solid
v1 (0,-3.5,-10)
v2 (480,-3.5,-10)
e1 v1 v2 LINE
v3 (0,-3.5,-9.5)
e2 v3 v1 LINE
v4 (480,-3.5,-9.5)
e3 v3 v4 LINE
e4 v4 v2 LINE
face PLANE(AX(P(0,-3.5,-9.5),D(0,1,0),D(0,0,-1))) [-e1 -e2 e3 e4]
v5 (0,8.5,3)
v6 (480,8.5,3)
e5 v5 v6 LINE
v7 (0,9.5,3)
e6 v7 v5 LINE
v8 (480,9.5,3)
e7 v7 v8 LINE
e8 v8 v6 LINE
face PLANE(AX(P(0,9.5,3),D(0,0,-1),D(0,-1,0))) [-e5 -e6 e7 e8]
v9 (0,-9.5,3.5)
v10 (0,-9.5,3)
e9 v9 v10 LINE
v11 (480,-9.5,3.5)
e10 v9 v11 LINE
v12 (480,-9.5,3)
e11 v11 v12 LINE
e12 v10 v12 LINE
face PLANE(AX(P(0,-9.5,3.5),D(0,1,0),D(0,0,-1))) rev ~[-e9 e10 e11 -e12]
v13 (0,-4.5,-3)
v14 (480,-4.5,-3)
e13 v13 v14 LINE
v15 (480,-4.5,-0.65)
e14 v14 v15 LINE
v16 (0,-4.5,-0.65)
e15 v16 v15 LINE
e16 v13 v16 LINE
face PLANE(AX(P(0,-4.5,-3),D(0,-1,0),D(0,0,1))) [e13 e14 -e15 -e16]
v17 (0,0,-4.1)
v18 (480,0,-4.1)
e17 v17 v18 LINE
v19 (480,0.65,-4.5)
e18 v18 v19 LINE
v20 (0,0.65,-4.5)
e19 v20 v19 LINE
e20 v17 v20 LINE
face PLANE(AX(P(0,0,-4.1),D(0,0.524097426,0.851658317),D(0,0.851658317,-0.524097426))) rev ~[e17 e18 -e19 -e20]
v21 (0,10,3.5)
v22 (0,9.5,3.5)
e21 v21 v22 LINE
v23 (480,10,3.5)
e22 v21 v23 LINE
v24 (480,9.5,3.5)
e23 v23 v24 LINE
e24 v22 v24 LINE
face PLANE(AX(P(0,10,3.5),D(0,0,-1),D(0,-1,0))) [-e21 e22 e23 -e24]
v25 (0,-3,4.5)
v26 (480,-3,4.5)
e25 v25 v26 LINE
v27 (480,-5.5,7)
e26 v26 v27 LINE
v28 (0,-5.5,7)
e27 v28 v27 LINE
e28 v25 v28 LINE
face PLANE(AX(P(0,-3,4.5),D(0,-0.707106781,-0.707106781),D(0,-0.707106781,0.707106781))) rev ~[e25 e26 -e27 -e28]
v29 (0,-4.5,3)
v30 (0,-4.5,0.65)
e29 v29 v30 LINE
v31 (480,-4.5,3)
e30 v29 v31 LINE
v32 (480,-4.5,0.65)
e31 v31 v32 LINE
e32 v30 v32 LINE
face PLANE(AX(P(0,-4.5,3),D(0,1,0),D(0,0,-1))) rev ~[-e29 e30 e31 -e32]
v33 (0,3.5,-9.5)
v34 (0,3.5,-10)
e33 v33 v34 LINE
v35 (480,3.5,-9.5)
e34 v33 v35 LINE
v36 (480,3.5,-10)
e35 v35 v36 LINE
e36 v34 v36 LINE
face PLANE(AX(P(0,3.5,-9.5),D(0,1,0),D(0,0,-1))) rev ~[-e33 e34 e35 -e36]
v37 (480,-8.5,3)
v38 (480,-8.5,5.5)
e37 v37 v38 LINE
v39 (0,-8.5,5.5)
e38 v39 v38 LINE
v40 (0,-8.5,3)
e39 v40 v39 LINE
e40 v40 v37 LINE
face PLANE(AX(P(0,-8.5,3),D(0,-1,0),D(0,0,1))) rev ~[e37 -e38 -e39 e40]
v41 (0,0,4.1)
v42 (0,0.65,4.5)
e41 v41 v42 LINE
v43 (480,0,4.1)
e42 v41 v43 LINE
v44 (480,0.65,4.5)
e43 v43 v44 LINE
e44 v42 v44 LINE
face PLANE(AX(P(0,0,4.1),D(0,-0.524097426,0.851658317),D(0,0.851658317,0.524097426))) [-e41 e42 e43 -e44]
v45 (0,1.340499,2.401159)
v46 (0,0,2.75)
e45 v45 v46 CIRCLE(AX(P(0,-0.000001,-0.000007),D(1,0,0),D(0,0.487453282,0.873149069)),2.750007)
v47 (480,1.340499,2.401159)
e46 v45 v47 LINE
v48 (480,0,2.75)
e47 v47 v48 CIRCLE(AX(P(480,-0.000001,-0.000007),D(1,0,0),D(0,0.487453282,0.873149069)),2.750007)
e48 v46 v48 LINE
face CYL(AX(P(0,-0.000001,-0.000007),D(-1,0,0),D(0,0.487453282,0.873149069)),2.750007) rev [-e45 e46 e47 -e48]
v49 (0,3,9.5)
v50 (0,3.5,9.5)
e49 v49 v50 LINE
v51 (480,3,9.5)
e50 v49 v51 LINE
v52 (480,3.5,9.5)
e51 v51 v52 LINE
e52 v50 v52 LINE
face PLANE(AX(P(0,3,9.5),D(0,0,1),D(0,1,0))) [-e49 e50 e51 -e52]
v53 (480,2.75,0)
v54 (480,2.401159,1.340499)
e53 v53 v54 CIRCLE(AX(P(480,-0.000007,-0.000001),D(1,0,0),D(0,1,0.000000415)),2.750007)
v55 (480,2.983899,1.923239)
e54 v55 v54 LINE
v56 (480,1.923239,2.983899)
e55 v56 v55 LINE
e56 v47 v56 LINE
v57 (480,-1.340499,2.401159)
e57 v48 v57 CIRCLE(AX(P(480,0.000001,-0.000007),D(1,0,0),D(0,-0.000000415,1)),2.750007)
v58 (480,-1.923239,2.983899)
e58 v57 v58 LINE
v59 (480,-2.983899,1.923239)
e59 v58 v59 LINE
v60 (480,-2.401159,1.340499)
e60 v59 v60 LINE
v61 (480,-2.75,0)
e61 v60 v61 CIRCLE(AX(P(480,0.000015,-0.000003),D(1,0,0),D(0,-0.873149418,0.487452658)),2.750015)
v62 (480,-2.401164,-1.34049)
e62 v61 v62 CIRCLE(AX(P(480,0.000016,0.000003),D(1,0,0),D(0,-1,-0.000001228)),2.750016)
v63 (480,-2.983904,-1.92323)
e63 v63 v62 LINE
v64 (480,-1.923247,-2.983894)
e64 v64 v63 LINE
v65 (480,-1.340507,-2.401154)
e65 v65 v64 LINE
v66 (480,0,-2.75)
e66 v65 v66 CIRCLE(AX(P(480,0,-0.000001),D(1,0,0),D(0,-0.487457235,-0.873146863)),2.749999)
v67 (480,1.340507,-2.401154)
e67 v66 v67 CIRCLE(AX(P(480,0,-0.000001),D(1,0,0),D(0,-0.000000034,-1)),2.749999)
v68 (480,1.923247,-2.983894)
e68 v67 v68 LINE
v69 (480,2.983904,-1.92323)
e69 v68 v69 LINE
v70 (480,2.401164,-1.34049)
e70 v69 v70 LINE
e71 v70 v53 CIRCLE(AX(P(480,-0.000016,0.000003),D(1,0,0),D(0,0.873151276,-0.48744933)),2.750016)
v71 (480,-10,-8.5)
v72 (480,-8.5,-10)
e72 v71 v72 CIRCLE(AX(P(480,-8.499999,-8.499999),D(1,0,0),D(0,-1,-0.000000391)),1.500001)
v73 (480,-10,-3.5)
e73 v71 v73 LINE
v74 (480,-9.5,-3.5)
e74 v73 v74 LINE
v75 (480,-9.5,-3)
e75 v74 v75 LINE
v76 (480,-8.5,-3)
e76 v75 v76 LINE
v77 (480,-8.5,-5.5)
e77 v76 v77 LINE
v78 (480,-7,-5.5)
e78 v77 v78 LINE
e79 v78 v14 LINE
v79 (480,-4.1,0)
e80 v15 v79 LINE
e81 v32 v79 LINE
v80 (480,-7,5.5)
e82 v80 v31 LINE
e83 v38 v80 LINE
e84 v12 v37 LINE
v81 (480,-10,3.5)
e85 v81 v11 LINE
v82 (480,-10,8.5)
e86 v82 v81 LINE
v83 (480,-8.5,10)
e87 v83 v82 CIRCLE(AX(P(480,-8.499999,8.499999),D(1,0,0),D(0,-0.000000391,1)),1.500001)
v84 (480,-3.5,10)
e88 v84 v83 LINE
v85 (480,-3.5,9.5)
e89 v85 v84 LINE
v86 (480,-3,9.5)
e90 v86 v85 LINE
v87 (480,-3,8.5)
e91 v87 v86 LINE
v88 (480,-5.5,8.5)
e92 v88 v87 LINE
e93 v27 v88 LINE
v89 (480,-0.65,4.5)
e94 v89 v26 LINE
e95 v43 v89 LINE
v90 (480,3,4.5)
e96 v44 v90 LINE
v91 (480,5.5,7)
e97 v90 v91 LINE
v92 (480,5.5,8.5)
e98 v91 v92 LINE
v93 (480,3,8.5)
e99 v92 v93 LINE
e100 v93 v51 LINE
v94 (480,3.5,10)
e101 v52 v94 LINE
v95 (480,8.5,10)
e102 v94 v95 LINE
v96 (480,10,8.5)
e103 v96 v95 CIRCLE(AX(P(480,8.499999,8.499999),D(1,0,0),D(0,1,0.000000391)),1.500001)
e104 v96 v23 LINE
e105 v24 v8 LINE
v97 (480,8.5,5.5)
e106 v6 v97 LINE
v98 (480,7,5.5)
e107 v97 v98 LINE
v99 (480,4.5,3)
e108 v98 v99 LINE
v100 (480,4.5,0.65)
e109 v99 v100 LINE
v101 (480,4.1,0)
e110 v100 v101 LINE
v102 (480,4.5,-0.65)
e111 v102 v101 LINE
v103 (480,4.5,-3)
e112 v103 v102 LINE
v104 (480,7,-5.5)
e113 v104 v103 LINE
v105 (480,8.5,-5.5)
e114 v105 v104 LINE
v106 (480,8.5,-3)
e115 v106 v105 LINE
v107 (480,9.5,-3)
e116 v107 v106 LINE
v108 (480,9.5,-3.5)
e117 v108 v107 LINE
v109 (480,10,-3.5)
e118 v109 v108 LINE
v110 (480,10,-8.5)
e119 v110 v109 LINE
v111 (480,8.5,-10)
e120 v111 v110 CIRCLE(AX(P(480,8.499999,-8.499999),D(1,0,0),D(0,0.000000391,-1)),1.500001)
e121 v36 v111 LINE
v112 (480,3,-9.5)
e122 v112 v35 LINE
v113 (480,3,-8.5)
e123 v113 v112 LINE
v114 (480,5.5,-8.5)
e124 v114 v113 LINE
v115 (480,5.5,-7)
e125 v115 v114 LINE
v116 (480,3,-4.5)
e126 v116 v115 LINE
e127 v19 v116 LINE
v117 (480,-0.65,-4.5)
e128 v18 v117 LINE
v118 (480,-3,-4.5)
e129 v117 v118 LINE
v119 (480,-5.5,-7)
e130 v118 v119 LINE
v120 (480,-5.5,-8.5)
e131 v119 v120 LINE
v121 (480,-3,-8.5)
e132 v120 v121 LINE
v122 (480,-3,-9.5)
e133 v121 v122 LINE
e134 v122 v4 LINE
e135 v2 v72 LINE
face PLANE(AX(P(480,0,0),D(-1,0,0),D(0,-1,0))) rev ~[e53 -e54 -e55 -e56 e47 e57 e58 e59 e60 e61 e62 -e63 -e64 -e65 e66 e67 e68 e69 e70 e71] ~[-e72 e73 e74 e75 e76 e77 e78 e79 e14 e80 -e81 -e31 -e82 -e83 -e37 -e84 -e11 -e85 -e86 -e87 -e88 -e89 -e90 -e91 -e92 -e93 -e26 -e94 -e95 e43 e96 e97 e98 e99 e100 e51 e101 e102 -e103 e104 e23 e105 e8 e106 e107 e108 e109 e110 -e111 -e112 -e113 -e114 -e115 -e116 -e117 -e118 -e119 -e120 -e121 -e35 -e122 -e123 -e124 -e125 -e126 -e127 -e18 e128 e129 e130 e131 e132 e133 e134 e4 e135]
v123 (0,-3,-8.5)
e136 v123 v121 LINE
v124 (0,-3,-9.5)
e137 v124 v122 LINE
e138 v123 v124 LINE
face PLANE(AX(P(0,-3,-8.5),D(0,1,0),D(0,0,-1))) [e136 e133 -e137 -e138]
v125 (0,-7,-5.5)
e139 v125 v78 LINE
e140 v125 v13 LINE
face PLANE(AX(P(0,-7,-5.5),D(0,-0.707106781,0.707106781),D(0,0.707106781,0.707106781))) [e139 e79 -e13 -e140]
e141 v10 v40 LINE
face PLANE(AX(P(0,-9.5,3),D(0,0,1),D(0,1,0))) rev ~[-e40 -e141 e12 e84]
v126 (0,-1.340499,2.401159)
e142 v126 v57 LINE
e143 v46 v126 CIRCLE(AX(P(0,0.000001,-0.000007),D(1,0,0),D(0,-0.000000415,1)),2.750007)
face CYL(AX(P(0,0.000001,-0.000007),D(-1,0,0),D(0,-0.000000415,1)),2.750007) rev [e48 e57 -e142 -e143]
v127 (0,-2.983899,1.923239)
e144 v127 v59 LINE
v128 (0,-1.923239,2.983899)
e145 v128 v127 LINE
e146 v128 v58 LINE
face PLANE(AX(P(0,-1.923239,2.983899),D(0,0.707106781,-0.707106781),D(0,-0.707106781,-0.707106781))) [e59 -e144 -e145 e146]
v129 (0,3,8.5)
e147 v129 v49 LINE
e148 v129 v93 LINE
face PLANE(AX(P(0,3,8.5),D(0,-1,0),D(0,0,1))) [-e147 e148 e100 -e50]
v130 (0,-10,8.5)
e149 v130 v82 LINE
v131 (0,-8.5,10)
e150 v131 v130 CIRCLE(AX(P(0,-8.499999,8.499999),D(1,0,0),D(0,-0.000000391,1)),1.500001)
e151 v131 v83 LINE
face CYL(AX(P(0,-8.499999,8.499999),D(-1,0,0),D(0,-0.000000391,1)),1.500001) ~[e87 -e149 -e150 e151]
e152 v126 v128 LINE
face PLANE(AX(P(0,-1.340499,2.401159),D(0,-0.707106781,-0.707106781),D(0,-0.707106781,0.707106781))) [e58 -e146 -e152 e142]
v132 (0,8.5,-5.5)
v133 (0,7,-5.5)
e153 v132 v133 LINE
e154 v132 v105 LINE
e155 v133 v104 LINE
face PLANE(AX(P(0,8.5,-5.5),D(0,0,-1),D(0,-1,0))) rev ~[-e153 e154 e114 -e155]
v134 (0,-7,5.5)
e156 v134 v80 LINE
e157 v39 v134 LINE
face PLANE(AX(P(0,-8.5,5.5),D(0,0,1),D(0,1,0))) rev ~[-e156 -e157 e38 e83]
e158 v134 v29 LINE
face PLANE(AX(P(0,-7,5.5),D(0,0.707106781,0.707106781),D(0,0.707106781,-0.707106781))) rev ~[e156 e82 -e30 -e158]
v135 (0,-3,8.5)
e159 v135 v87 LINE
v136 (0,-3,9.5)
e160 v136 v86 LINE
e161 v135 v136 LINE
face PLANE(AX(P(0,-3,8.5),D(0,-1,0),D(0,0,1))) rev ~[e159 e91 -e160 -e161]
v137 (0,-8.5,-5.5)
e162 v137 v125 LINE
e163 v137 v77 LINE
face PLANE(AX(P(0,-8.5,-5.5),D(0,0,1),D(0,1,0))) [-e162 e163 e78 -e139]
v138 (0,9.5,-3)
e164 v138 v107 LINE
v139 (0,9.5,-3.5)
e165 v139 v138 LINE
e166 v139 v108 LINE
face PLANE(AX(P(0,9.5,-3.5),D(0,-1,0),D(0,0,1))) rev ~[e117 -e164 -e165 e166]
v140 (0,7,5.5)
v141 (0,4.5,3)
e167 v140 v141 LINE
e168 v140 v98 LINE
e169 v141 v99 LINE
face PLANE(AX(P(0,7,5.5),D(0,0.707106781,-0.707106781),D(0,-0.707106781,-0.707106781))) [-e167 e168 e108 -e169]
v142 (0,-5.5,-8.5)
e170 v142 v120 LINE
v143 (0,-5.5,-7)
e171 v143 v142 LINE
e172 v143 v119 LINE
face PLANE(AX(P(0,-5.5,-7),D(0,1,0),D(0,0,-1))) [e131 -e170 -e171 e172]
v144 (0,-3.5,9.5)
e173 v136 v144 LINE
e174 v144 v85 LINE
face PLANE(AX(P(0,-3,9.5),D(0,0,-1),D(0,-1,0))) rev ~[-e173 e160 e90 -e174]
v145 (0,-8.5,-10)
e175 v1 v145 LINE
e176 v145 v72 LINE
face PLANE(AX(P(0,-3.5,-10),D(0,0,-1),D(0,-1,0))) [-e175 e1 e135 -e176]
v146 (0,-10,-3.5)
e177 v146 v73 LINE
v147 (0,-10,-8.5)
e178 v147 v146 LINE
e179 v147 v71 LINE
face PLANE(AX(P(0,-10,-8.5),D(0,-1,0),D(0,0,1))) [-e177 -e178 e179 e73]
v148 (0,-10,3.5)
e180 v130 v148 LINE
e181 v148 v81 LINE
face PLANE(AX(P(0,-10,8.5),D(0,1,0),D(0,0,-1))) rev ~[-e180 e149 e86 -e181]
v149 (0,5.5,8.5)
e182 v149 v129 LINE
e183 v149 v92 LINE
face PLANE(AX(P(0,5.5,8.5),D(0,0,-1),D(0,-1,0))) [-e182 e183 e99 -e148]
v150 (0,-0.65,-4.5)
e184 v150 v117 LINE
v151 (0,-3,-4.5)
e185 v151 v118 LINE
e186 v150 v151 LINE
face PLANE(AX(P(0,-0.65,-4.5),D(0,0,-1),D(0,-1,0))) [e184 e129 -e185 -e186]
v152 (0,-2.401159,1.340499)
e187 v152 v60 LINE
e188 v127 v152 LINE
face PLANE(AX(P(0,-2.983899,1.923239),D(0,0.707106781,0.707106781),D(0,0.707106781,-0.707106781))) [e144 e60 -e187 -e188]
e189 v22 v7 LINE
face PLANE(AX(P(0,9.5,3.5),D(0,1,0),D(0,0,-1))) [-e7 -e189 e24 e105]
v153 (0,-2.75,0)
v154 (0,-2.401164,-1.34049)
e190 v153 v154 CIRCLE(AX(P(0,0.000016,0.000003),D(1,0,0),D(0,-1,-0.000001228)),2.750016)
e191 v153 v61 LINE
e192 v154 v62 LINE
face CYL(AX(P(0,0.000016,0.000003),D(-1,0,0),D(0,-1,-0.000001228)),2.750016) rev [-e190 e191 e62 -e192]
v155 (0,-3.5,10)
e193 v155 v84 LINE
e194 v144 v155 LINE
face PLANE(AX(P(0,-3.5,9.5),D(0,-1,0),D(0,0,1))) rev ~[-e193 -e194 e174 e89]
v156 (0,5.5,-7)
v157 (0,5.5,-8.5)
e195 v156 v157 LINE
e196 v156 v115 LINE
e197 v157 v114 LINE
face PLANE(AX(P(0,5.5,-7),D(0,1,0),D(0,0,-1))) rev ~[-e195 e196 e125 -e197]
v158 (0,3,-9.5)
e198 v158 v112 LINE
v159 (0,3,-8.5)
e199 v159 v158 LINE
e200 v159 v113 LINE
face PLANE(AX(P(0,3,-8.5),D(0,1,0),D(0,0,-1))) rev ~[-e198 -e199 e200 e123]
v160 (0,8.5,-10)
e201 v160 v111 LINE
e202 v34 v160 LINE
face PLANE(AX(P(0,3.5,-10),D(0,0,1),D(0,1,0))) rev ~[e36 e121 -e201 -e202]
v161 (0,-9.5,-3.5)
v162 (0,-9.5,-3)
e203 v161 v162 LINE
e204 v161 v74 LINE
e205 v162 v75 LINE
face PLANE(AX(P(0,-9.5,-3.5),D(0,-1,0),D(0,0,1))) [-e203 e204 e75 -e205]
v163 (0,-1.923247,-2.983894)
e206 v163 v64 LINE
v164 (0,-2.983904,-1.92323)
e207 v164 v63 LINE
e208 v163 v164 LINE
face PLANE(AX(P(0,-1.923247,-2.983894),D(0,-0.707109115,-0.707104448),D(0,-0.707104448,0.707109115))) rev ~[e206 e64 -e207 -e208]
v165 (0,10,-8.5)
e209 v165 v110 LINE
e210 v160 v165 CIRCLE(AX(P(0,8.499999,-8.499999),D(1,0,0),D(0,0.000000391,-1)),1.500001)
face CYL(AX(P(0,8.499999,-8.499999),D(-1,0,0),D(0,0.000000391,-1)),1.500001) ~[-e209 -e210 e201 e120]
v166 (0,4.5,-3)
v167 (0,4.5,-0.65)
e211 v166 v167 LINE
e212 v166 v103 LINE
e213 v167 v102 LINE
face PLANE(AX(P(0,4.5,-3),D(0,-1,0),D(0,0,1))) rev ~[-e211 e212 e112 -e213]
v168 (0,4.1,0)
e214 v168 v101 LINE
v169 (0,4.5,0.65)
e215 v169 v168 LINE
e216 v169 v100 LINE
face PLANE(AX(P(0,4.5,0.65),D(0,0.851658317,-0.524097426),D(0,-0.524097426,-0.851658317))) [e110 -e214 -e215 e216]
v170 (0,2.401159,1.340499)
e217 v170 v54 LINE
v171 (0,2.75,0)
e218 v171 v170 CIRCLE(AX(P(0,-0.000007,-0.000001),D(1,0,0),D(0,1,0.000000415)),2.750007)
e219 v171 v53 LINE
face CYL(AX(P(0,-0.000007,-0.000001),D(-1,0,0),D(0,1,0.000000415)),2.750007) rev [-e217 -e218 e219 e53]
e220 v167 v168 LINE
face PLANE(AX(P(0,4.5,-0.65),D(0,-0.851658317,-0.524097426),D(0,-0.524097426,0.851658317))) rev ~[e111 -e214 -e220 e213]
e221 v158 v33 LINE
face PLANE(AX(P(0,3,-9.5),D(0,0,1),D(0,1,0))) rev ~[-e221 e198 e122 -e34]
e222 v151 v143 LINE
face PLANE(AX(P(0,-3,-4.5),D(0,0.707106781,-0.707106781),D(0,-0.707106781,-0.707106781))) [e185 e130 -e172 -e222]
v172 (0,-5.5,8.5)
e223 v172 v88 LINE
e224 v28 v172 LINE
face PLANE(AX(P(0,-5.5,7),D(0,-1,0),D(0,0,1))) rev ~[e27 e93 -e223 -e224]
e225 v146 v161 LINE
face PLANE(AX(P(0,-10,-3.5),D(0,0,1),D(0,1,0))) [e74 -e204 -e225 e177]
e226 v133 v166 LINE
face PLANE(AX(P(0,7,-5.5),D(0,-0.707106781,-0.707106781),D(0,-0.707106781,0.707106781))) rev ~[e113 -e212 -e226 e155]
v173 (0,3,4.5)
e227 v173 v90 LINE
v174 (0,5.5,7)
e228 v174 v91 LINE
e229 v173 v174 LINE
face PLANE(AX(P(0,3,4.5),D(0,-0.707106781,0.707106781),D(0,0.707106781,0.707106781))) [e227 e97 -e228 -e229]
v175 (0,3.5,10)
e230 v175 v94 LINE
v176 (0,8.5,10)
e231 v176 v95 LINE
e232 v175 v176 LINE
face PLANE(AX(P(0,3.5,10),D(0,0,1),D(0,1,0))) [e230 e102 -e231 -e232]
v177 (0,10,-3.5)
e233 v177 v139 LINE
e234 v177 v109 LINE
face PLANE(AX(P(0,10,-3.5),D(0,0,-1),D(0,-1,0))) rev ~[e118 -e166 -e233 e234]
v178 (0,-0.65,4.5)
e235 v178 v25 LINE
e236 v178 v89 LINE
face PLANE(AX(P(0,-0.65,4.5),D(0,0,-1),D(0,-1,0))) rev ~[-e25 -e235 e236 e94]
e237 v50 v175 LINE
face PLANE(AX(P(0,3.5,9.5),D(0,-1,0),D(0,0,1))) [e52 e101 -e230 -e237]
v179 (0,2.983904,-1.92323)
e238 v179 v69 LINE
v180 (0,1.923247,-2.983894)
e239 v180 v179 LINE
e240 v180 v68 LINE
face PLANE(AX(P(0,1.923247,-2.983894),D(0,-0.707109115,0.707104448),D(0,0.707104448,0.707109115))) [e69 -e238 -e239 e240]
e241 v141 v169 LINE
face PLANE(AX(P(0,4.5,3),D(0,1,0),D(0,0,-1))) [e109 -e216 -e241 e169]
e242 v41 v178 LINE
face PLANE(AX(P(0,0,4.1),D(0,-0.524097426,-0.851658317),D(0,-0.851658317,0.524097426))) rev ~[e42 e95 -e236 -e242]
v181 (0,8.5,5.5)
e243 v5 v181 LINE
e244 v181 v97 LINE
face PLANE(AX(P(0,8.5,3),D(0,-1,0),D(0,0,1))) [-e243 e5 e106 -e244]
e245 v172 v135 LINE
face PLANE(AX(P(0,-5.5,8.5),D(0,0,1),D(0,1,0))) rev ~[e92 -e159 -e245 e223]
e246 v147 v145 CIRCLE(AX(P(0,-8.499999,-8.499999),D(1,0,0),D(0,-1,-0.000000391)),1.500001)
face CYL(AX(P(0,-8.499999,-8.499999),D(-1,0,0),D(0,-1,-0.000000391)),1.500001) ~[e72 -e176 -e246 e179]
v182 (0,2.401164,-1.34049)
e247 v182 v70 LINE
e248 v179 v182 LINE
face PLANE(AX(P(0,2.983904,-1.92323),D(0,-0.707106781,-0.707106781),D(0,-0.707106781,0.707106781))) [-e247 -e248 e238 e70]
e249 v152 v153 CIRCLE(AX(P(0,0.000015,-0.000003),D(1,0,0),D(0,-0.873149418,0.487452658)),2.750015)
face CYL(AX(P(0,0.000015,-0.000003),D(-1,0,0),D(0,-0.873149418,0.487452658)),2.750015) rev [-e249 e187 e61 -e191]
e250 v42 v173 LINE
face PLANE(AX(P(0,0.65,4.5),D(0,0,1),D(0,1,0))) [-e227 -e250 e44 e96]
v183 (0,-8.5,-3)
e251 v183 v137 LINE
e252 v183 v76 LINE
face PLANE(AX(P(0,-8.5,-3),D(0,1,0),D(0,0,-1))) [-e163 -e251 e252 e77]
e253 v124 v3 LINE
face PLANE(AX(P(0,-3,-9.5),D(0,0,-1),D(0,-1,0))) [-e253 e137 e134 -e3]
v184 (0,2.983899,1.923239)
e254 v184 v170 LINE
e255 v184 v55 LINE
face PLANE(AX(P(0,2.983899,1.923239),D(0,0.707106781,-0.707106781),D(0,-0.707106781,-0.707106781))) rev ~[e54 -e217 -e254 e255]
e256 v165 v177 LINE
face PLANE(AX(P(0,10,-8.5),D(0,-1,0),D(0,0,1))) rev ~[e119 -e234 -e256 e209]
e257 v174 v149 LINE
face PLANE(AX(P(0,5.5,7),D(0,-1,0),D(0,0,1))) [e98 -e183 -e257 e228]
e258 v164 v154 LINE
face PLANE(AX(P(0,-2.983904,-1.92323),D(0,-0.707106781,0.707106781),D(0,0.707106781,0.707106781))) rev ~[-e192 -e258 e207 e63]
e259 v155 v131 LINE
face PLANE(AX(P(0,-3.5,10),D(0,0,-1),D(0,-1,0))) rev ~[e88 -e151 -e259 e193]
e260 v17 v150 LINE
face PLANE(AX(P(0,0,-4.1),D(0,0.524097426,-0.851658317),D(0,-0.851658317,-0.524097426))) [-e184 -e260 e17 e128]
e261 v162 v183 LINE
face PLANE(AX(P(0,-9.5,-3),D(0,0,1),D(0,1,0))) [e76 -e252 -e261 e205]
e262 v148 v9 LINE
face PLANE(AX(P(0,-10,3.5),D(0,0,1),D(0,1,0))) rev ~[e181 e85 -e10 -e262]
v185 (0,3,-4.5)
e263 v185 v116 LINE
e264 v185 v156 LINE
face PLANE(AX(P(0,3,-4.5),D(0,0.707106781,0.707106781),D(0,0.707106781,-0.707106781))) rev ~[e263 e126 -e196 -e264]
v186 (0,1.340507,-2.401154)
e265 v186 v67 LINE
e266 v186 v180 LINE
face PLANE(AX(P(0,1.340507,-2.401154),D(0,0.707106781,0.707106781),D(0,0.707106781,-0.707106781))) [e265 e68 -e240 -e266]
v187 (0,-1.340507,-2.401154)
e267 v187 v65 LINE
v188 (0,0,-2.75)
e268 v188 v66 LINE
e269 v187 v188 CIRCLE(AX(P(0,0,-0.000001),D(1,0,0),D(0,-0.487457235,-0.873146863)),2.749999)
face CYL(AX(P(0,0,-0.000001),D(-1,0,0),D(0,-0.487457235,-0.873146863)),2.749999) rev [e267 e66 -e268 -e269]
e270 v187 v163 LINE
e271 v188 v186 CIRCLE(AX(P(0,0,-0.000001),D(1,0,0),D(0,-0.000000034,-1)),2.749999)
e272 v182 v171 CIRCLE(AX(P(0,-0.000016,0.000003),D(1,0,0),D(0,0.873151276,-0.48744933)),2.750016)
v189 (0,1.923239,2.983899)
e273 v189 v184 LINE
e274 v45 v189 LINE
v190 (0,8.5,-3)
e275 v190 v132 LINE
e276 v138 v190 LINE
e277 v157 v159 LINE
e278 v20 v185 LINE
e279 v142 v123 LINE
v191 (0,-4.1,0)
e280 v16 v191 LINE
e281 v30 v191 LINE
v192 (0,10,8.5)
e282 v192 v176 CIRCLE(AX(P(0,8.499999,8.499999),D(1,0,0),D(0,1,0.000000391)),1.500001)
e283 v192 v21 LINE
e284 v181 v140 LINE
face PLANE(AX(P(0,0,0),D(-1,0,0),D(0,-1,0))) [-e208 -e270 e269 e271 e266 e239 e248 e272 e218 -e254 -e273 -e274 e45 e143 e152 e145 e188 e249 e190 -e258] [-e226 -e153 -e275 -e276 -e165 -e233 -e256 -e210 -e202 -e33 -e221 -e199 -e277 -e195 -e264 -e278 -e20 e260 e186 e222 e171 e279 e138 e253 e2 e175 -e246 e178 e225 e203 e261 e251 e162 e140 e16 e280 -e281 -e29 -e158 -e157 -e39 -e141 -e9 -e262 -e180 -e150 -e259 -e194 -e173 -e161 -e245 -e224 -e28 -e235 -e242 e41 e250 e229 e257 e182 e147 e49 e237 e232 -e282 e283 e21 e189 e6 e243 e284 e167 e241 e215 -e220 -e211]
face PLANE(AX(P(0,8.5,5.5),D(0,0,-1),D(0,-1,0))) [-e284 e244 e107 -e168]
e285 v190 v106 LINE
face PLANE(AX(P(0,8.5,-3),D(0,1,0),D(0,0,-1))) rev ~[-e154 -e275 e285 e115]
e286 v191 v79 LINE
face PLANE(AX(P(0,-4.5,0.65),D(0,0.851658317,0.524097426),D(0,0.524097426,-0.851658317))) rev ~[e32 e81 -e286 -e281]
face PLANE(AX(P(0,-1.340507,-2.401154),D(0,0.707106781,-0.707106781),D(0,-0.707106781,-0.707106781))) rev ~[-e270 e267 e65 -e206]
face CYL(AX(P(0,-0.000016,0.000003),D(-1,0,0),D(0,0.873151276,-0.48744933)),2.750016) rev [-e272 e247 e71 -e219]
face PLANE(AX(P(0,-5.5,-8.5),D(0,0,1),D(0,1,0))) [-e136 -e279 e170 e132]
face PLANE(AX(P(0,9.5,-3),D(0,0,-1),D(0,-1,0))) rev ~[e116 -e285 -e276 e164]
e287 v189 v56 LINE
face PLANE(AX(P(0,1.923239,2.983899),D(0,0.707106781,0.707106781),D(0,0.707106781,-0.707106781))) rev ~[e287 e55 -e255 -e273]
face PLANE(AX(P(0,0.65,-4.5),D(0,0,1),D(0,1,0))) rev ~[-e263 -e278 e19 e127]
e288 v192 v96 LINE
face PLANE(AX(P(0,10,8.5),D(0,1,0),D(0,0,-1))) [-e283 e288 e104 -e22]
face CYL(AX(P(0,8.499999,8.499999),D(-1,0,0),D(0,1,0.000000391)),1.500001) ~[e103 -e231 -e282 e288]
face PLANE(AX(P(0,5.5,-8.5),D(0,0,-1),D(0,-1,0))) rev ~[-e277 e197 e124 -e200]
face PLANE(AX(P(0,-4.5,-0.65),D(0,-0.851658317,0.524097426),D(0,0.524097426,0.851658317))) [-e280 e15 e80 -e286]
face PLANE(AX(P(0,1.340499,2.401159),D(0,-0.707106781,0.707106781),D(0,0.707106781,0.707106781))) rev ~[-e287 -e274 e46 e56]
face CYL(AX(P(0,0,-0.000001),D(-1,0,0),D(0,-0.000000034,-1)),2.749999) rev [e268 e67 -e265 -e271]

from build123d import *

# Parameters (mm, degrees)
PAD_DEPTH = 480


with BuildPart() as part:
    # Sketch → Pad (new body)
    with BuildSketch(Plane.YZ):
        with BuildLine():
            Line((0, 4.1), (0.65, 4.5))
            Line((0.65, 4.5), (3, 4.5))
            Line((3, 4.5), (5.5, 7))
            Line((5.5, 7), (5.5, 8.5))
            Line((5.5, 8.5), (3, 8.5))
            Line((3, 8.5), (3, 9.5))
            Line((3, 9.5), (3.5, 9.5))
            Line((3.5, 9.5), (3.5, 10))
            Line((3.5, 10), (8.5, 10))
            ThreePointArc((10, 8.5), (9.56066, 9.56066), (8.5, 10))
            Line((10, 8.5), (10, 3.5))
            Line((10, 3.5), (9.5, 3.5))
            Line((9.5, 3.5), (9.5, 3))
            Line((9.5, 3), (8.5, 3))
            Line((8.5, 3), (8.5, 5.5))
            Line((8.5, 5.5), (7, 5.5))
            Line((7, 5.5), (4.5, 3))
            Line((4.5, 3), (4.5, 0.65))
            Line((4.5, 0.65), (4.1, 0))
            Line((4.5, -0.65), (4.1, 0))
            Line((4.5, -3), (4.5, -0.65))
            Line((7, -5.5), (4.5, -3))
            Line((8.5, -5.5), (7, -5.5))
            Line((8.5, -3), (8.5, -5.5))
            Line((9.5, -3), (8.5, -3))
            Line((9.5, -3.5), (9.5, -3))
            Line((10, -3.5), (9.5, -3.5))
            Line((10, -8.5), (10, -3.5))
            ThreePointArc((8.5, -10), (9.56066, -9.56066), (10, -8.5))
            Line((3.5, -10), (8.5, -10))
            Line((3.5, -9.5), (3.5, -10))
            Line((3, -9.5), (3.5, -9.5))
            Line((3, -8.5), (3, -9.5))
            Line((5.5, -8.5), (3, -8.5))
            Line((5.5, -7), (5.5, -8.5))
            Line((3, -4.5), (5.5, -7))
            Line((0.65, -4.5), (3, -4.5))
            Line((0, -4.1), (0.65, -4.5))
            Line((0, -4.1), (-0.65, -4.5))
            Line((-0.65, -4.5), (-3, -4.5))
            Line((-3, -4.5), (-5.5, -7))
            Line((-5.5, -7), (-5.5, -8.5))
            Line((-5.5, -8.5), (-3, -8.5))
            Line((-3, -8.5), (-3, -9.5))
            Line((-3, -9.5), (-3.5, -9.5))
            Line((-3.5, -9.5), (-3.5, -10))
            Line((-3.5, -10), (-8.5, -10))
            ThreePointArc((-10, -8.5), (-9.56066, -9.56066), (-8.5, -10))
            Line((-10, -8.5), (-10, -3.5))
            Line((-10, -3.5), (-9.5, -3.5))
            Line((-9.5, -3.5), (-9.5, -3))
            Line((-9.5, -3), (-8.5, -3))
            Line((-8.5, -3), (-8.5, -5.5))
            Line((-8.5, -5.5), (-7, -5.5))
            Line((-7, -5.5), (-4.5, -3))
            Line((-4.5, -3), (-4.5, -0.65))
            Line((-4.5, -0.65), (-4.1, 0))
            Line((-4.5, 0.65), (-4.1, 0))
            Line((-4.5, 3), (-4.5, 0.65))
            Line((-7, 5.5), (-4.5, 3))
            Line((-8.5, 5.5), (-7, 5.5))
            Line((-8.5, 3), (-8.5, 5.5))
            Line((-9.5, 3), (-8.5, 3))
            Line((-9.5, 3.5), (-9.5, 3))
            Line((-10, 3.5), (-9.5, 3.5))
            Line((-10, 8.5), (-10, 3.5))
            ThreePointArc((-8.5, 10), (-9.56066, 9.56066), (-10, 8.5))
            Line((-3.5, 10), (-8.5, 10))
            Line((-3.5, 9.5), (-3.5, 10))
            Line((-3, 9.5), (-3.5, 9.5))
            Line((-3, 8.5), (-3, 9.5))
            Line((-5.5, 8.5), (-3, 8.5))
            Line((-5.5, 7), (-5.5, 8.5))
            Line((-3, 4.5), (-5.5, 7))
            Line((-0.65, 4.5), (-3, 4.5))
            Line((0, 4.1), (-0.65, 4.5))
        make_face()
        with BuildLine():
            Line((1.340499, 2.401159), (1.923239, 2.983899))
            Line((1.923239, 2.983899), (2.983899, 1.923239))
            Line((2.983899, 1.923239), (2.401159, 1.340499))
            ThreePointArc((2.75, 0), (2.661361, 0.692573), (2.401159, 1.340499))
            ThreePointArc((2.401164, -1.34049), (2.661362, -0.692568), (2.75, 0))
            Line((2.983904, -1.92323), (2.401164, -1.34049))
            Line((1.923247, -2.983894), (2.983904, -1.92323))
            Line((1.340507, -2.401154), (1.923247, -2.983894))
            ThreePointArc((0, -2.75), (0.692577, -2.66136), (1.340507, -2.401154))
            ThreePointArc((-1.340507, -2.401154), (-0.692577, -2.66136), (0, -2.75))
            Line((-1.340507, -2.401154), (-1.923247, -2.983894))
            Line((-1.923247, -2.983894), (-2.983904, -1.92323))
            Line((-2.983904, -1.92323), (-2.401164, -1.34049))
            ThreePointArc((-2.75, 0), (-2.661362, -0.692568), (-2.401164, -1.34049))
            ThreePointArc((-2.401159, 1.340499), (-2.661361, 0.692572), (-2.75, 0))
            Line((-2.983899, 1.923239), (-2.401159, 1.340499))
            Line((-1.923239, 2.983899), (-2.983899, 1.923239))
            Line((-1.340499, 2.401159), (-1.923239, 2.983899))
            ThreePointArc((0, 2.75), (-0.692573, 2.661361), (-1.340499, 2.401159))
            ThreePointArc((1.340499, 2.401159), (0.692573, 2.661361), (0, 2.75))
        make_face(mode=Mode.SUBTRACT)
    extrude(amount=PAD_DEPTH)


solid = part.part
